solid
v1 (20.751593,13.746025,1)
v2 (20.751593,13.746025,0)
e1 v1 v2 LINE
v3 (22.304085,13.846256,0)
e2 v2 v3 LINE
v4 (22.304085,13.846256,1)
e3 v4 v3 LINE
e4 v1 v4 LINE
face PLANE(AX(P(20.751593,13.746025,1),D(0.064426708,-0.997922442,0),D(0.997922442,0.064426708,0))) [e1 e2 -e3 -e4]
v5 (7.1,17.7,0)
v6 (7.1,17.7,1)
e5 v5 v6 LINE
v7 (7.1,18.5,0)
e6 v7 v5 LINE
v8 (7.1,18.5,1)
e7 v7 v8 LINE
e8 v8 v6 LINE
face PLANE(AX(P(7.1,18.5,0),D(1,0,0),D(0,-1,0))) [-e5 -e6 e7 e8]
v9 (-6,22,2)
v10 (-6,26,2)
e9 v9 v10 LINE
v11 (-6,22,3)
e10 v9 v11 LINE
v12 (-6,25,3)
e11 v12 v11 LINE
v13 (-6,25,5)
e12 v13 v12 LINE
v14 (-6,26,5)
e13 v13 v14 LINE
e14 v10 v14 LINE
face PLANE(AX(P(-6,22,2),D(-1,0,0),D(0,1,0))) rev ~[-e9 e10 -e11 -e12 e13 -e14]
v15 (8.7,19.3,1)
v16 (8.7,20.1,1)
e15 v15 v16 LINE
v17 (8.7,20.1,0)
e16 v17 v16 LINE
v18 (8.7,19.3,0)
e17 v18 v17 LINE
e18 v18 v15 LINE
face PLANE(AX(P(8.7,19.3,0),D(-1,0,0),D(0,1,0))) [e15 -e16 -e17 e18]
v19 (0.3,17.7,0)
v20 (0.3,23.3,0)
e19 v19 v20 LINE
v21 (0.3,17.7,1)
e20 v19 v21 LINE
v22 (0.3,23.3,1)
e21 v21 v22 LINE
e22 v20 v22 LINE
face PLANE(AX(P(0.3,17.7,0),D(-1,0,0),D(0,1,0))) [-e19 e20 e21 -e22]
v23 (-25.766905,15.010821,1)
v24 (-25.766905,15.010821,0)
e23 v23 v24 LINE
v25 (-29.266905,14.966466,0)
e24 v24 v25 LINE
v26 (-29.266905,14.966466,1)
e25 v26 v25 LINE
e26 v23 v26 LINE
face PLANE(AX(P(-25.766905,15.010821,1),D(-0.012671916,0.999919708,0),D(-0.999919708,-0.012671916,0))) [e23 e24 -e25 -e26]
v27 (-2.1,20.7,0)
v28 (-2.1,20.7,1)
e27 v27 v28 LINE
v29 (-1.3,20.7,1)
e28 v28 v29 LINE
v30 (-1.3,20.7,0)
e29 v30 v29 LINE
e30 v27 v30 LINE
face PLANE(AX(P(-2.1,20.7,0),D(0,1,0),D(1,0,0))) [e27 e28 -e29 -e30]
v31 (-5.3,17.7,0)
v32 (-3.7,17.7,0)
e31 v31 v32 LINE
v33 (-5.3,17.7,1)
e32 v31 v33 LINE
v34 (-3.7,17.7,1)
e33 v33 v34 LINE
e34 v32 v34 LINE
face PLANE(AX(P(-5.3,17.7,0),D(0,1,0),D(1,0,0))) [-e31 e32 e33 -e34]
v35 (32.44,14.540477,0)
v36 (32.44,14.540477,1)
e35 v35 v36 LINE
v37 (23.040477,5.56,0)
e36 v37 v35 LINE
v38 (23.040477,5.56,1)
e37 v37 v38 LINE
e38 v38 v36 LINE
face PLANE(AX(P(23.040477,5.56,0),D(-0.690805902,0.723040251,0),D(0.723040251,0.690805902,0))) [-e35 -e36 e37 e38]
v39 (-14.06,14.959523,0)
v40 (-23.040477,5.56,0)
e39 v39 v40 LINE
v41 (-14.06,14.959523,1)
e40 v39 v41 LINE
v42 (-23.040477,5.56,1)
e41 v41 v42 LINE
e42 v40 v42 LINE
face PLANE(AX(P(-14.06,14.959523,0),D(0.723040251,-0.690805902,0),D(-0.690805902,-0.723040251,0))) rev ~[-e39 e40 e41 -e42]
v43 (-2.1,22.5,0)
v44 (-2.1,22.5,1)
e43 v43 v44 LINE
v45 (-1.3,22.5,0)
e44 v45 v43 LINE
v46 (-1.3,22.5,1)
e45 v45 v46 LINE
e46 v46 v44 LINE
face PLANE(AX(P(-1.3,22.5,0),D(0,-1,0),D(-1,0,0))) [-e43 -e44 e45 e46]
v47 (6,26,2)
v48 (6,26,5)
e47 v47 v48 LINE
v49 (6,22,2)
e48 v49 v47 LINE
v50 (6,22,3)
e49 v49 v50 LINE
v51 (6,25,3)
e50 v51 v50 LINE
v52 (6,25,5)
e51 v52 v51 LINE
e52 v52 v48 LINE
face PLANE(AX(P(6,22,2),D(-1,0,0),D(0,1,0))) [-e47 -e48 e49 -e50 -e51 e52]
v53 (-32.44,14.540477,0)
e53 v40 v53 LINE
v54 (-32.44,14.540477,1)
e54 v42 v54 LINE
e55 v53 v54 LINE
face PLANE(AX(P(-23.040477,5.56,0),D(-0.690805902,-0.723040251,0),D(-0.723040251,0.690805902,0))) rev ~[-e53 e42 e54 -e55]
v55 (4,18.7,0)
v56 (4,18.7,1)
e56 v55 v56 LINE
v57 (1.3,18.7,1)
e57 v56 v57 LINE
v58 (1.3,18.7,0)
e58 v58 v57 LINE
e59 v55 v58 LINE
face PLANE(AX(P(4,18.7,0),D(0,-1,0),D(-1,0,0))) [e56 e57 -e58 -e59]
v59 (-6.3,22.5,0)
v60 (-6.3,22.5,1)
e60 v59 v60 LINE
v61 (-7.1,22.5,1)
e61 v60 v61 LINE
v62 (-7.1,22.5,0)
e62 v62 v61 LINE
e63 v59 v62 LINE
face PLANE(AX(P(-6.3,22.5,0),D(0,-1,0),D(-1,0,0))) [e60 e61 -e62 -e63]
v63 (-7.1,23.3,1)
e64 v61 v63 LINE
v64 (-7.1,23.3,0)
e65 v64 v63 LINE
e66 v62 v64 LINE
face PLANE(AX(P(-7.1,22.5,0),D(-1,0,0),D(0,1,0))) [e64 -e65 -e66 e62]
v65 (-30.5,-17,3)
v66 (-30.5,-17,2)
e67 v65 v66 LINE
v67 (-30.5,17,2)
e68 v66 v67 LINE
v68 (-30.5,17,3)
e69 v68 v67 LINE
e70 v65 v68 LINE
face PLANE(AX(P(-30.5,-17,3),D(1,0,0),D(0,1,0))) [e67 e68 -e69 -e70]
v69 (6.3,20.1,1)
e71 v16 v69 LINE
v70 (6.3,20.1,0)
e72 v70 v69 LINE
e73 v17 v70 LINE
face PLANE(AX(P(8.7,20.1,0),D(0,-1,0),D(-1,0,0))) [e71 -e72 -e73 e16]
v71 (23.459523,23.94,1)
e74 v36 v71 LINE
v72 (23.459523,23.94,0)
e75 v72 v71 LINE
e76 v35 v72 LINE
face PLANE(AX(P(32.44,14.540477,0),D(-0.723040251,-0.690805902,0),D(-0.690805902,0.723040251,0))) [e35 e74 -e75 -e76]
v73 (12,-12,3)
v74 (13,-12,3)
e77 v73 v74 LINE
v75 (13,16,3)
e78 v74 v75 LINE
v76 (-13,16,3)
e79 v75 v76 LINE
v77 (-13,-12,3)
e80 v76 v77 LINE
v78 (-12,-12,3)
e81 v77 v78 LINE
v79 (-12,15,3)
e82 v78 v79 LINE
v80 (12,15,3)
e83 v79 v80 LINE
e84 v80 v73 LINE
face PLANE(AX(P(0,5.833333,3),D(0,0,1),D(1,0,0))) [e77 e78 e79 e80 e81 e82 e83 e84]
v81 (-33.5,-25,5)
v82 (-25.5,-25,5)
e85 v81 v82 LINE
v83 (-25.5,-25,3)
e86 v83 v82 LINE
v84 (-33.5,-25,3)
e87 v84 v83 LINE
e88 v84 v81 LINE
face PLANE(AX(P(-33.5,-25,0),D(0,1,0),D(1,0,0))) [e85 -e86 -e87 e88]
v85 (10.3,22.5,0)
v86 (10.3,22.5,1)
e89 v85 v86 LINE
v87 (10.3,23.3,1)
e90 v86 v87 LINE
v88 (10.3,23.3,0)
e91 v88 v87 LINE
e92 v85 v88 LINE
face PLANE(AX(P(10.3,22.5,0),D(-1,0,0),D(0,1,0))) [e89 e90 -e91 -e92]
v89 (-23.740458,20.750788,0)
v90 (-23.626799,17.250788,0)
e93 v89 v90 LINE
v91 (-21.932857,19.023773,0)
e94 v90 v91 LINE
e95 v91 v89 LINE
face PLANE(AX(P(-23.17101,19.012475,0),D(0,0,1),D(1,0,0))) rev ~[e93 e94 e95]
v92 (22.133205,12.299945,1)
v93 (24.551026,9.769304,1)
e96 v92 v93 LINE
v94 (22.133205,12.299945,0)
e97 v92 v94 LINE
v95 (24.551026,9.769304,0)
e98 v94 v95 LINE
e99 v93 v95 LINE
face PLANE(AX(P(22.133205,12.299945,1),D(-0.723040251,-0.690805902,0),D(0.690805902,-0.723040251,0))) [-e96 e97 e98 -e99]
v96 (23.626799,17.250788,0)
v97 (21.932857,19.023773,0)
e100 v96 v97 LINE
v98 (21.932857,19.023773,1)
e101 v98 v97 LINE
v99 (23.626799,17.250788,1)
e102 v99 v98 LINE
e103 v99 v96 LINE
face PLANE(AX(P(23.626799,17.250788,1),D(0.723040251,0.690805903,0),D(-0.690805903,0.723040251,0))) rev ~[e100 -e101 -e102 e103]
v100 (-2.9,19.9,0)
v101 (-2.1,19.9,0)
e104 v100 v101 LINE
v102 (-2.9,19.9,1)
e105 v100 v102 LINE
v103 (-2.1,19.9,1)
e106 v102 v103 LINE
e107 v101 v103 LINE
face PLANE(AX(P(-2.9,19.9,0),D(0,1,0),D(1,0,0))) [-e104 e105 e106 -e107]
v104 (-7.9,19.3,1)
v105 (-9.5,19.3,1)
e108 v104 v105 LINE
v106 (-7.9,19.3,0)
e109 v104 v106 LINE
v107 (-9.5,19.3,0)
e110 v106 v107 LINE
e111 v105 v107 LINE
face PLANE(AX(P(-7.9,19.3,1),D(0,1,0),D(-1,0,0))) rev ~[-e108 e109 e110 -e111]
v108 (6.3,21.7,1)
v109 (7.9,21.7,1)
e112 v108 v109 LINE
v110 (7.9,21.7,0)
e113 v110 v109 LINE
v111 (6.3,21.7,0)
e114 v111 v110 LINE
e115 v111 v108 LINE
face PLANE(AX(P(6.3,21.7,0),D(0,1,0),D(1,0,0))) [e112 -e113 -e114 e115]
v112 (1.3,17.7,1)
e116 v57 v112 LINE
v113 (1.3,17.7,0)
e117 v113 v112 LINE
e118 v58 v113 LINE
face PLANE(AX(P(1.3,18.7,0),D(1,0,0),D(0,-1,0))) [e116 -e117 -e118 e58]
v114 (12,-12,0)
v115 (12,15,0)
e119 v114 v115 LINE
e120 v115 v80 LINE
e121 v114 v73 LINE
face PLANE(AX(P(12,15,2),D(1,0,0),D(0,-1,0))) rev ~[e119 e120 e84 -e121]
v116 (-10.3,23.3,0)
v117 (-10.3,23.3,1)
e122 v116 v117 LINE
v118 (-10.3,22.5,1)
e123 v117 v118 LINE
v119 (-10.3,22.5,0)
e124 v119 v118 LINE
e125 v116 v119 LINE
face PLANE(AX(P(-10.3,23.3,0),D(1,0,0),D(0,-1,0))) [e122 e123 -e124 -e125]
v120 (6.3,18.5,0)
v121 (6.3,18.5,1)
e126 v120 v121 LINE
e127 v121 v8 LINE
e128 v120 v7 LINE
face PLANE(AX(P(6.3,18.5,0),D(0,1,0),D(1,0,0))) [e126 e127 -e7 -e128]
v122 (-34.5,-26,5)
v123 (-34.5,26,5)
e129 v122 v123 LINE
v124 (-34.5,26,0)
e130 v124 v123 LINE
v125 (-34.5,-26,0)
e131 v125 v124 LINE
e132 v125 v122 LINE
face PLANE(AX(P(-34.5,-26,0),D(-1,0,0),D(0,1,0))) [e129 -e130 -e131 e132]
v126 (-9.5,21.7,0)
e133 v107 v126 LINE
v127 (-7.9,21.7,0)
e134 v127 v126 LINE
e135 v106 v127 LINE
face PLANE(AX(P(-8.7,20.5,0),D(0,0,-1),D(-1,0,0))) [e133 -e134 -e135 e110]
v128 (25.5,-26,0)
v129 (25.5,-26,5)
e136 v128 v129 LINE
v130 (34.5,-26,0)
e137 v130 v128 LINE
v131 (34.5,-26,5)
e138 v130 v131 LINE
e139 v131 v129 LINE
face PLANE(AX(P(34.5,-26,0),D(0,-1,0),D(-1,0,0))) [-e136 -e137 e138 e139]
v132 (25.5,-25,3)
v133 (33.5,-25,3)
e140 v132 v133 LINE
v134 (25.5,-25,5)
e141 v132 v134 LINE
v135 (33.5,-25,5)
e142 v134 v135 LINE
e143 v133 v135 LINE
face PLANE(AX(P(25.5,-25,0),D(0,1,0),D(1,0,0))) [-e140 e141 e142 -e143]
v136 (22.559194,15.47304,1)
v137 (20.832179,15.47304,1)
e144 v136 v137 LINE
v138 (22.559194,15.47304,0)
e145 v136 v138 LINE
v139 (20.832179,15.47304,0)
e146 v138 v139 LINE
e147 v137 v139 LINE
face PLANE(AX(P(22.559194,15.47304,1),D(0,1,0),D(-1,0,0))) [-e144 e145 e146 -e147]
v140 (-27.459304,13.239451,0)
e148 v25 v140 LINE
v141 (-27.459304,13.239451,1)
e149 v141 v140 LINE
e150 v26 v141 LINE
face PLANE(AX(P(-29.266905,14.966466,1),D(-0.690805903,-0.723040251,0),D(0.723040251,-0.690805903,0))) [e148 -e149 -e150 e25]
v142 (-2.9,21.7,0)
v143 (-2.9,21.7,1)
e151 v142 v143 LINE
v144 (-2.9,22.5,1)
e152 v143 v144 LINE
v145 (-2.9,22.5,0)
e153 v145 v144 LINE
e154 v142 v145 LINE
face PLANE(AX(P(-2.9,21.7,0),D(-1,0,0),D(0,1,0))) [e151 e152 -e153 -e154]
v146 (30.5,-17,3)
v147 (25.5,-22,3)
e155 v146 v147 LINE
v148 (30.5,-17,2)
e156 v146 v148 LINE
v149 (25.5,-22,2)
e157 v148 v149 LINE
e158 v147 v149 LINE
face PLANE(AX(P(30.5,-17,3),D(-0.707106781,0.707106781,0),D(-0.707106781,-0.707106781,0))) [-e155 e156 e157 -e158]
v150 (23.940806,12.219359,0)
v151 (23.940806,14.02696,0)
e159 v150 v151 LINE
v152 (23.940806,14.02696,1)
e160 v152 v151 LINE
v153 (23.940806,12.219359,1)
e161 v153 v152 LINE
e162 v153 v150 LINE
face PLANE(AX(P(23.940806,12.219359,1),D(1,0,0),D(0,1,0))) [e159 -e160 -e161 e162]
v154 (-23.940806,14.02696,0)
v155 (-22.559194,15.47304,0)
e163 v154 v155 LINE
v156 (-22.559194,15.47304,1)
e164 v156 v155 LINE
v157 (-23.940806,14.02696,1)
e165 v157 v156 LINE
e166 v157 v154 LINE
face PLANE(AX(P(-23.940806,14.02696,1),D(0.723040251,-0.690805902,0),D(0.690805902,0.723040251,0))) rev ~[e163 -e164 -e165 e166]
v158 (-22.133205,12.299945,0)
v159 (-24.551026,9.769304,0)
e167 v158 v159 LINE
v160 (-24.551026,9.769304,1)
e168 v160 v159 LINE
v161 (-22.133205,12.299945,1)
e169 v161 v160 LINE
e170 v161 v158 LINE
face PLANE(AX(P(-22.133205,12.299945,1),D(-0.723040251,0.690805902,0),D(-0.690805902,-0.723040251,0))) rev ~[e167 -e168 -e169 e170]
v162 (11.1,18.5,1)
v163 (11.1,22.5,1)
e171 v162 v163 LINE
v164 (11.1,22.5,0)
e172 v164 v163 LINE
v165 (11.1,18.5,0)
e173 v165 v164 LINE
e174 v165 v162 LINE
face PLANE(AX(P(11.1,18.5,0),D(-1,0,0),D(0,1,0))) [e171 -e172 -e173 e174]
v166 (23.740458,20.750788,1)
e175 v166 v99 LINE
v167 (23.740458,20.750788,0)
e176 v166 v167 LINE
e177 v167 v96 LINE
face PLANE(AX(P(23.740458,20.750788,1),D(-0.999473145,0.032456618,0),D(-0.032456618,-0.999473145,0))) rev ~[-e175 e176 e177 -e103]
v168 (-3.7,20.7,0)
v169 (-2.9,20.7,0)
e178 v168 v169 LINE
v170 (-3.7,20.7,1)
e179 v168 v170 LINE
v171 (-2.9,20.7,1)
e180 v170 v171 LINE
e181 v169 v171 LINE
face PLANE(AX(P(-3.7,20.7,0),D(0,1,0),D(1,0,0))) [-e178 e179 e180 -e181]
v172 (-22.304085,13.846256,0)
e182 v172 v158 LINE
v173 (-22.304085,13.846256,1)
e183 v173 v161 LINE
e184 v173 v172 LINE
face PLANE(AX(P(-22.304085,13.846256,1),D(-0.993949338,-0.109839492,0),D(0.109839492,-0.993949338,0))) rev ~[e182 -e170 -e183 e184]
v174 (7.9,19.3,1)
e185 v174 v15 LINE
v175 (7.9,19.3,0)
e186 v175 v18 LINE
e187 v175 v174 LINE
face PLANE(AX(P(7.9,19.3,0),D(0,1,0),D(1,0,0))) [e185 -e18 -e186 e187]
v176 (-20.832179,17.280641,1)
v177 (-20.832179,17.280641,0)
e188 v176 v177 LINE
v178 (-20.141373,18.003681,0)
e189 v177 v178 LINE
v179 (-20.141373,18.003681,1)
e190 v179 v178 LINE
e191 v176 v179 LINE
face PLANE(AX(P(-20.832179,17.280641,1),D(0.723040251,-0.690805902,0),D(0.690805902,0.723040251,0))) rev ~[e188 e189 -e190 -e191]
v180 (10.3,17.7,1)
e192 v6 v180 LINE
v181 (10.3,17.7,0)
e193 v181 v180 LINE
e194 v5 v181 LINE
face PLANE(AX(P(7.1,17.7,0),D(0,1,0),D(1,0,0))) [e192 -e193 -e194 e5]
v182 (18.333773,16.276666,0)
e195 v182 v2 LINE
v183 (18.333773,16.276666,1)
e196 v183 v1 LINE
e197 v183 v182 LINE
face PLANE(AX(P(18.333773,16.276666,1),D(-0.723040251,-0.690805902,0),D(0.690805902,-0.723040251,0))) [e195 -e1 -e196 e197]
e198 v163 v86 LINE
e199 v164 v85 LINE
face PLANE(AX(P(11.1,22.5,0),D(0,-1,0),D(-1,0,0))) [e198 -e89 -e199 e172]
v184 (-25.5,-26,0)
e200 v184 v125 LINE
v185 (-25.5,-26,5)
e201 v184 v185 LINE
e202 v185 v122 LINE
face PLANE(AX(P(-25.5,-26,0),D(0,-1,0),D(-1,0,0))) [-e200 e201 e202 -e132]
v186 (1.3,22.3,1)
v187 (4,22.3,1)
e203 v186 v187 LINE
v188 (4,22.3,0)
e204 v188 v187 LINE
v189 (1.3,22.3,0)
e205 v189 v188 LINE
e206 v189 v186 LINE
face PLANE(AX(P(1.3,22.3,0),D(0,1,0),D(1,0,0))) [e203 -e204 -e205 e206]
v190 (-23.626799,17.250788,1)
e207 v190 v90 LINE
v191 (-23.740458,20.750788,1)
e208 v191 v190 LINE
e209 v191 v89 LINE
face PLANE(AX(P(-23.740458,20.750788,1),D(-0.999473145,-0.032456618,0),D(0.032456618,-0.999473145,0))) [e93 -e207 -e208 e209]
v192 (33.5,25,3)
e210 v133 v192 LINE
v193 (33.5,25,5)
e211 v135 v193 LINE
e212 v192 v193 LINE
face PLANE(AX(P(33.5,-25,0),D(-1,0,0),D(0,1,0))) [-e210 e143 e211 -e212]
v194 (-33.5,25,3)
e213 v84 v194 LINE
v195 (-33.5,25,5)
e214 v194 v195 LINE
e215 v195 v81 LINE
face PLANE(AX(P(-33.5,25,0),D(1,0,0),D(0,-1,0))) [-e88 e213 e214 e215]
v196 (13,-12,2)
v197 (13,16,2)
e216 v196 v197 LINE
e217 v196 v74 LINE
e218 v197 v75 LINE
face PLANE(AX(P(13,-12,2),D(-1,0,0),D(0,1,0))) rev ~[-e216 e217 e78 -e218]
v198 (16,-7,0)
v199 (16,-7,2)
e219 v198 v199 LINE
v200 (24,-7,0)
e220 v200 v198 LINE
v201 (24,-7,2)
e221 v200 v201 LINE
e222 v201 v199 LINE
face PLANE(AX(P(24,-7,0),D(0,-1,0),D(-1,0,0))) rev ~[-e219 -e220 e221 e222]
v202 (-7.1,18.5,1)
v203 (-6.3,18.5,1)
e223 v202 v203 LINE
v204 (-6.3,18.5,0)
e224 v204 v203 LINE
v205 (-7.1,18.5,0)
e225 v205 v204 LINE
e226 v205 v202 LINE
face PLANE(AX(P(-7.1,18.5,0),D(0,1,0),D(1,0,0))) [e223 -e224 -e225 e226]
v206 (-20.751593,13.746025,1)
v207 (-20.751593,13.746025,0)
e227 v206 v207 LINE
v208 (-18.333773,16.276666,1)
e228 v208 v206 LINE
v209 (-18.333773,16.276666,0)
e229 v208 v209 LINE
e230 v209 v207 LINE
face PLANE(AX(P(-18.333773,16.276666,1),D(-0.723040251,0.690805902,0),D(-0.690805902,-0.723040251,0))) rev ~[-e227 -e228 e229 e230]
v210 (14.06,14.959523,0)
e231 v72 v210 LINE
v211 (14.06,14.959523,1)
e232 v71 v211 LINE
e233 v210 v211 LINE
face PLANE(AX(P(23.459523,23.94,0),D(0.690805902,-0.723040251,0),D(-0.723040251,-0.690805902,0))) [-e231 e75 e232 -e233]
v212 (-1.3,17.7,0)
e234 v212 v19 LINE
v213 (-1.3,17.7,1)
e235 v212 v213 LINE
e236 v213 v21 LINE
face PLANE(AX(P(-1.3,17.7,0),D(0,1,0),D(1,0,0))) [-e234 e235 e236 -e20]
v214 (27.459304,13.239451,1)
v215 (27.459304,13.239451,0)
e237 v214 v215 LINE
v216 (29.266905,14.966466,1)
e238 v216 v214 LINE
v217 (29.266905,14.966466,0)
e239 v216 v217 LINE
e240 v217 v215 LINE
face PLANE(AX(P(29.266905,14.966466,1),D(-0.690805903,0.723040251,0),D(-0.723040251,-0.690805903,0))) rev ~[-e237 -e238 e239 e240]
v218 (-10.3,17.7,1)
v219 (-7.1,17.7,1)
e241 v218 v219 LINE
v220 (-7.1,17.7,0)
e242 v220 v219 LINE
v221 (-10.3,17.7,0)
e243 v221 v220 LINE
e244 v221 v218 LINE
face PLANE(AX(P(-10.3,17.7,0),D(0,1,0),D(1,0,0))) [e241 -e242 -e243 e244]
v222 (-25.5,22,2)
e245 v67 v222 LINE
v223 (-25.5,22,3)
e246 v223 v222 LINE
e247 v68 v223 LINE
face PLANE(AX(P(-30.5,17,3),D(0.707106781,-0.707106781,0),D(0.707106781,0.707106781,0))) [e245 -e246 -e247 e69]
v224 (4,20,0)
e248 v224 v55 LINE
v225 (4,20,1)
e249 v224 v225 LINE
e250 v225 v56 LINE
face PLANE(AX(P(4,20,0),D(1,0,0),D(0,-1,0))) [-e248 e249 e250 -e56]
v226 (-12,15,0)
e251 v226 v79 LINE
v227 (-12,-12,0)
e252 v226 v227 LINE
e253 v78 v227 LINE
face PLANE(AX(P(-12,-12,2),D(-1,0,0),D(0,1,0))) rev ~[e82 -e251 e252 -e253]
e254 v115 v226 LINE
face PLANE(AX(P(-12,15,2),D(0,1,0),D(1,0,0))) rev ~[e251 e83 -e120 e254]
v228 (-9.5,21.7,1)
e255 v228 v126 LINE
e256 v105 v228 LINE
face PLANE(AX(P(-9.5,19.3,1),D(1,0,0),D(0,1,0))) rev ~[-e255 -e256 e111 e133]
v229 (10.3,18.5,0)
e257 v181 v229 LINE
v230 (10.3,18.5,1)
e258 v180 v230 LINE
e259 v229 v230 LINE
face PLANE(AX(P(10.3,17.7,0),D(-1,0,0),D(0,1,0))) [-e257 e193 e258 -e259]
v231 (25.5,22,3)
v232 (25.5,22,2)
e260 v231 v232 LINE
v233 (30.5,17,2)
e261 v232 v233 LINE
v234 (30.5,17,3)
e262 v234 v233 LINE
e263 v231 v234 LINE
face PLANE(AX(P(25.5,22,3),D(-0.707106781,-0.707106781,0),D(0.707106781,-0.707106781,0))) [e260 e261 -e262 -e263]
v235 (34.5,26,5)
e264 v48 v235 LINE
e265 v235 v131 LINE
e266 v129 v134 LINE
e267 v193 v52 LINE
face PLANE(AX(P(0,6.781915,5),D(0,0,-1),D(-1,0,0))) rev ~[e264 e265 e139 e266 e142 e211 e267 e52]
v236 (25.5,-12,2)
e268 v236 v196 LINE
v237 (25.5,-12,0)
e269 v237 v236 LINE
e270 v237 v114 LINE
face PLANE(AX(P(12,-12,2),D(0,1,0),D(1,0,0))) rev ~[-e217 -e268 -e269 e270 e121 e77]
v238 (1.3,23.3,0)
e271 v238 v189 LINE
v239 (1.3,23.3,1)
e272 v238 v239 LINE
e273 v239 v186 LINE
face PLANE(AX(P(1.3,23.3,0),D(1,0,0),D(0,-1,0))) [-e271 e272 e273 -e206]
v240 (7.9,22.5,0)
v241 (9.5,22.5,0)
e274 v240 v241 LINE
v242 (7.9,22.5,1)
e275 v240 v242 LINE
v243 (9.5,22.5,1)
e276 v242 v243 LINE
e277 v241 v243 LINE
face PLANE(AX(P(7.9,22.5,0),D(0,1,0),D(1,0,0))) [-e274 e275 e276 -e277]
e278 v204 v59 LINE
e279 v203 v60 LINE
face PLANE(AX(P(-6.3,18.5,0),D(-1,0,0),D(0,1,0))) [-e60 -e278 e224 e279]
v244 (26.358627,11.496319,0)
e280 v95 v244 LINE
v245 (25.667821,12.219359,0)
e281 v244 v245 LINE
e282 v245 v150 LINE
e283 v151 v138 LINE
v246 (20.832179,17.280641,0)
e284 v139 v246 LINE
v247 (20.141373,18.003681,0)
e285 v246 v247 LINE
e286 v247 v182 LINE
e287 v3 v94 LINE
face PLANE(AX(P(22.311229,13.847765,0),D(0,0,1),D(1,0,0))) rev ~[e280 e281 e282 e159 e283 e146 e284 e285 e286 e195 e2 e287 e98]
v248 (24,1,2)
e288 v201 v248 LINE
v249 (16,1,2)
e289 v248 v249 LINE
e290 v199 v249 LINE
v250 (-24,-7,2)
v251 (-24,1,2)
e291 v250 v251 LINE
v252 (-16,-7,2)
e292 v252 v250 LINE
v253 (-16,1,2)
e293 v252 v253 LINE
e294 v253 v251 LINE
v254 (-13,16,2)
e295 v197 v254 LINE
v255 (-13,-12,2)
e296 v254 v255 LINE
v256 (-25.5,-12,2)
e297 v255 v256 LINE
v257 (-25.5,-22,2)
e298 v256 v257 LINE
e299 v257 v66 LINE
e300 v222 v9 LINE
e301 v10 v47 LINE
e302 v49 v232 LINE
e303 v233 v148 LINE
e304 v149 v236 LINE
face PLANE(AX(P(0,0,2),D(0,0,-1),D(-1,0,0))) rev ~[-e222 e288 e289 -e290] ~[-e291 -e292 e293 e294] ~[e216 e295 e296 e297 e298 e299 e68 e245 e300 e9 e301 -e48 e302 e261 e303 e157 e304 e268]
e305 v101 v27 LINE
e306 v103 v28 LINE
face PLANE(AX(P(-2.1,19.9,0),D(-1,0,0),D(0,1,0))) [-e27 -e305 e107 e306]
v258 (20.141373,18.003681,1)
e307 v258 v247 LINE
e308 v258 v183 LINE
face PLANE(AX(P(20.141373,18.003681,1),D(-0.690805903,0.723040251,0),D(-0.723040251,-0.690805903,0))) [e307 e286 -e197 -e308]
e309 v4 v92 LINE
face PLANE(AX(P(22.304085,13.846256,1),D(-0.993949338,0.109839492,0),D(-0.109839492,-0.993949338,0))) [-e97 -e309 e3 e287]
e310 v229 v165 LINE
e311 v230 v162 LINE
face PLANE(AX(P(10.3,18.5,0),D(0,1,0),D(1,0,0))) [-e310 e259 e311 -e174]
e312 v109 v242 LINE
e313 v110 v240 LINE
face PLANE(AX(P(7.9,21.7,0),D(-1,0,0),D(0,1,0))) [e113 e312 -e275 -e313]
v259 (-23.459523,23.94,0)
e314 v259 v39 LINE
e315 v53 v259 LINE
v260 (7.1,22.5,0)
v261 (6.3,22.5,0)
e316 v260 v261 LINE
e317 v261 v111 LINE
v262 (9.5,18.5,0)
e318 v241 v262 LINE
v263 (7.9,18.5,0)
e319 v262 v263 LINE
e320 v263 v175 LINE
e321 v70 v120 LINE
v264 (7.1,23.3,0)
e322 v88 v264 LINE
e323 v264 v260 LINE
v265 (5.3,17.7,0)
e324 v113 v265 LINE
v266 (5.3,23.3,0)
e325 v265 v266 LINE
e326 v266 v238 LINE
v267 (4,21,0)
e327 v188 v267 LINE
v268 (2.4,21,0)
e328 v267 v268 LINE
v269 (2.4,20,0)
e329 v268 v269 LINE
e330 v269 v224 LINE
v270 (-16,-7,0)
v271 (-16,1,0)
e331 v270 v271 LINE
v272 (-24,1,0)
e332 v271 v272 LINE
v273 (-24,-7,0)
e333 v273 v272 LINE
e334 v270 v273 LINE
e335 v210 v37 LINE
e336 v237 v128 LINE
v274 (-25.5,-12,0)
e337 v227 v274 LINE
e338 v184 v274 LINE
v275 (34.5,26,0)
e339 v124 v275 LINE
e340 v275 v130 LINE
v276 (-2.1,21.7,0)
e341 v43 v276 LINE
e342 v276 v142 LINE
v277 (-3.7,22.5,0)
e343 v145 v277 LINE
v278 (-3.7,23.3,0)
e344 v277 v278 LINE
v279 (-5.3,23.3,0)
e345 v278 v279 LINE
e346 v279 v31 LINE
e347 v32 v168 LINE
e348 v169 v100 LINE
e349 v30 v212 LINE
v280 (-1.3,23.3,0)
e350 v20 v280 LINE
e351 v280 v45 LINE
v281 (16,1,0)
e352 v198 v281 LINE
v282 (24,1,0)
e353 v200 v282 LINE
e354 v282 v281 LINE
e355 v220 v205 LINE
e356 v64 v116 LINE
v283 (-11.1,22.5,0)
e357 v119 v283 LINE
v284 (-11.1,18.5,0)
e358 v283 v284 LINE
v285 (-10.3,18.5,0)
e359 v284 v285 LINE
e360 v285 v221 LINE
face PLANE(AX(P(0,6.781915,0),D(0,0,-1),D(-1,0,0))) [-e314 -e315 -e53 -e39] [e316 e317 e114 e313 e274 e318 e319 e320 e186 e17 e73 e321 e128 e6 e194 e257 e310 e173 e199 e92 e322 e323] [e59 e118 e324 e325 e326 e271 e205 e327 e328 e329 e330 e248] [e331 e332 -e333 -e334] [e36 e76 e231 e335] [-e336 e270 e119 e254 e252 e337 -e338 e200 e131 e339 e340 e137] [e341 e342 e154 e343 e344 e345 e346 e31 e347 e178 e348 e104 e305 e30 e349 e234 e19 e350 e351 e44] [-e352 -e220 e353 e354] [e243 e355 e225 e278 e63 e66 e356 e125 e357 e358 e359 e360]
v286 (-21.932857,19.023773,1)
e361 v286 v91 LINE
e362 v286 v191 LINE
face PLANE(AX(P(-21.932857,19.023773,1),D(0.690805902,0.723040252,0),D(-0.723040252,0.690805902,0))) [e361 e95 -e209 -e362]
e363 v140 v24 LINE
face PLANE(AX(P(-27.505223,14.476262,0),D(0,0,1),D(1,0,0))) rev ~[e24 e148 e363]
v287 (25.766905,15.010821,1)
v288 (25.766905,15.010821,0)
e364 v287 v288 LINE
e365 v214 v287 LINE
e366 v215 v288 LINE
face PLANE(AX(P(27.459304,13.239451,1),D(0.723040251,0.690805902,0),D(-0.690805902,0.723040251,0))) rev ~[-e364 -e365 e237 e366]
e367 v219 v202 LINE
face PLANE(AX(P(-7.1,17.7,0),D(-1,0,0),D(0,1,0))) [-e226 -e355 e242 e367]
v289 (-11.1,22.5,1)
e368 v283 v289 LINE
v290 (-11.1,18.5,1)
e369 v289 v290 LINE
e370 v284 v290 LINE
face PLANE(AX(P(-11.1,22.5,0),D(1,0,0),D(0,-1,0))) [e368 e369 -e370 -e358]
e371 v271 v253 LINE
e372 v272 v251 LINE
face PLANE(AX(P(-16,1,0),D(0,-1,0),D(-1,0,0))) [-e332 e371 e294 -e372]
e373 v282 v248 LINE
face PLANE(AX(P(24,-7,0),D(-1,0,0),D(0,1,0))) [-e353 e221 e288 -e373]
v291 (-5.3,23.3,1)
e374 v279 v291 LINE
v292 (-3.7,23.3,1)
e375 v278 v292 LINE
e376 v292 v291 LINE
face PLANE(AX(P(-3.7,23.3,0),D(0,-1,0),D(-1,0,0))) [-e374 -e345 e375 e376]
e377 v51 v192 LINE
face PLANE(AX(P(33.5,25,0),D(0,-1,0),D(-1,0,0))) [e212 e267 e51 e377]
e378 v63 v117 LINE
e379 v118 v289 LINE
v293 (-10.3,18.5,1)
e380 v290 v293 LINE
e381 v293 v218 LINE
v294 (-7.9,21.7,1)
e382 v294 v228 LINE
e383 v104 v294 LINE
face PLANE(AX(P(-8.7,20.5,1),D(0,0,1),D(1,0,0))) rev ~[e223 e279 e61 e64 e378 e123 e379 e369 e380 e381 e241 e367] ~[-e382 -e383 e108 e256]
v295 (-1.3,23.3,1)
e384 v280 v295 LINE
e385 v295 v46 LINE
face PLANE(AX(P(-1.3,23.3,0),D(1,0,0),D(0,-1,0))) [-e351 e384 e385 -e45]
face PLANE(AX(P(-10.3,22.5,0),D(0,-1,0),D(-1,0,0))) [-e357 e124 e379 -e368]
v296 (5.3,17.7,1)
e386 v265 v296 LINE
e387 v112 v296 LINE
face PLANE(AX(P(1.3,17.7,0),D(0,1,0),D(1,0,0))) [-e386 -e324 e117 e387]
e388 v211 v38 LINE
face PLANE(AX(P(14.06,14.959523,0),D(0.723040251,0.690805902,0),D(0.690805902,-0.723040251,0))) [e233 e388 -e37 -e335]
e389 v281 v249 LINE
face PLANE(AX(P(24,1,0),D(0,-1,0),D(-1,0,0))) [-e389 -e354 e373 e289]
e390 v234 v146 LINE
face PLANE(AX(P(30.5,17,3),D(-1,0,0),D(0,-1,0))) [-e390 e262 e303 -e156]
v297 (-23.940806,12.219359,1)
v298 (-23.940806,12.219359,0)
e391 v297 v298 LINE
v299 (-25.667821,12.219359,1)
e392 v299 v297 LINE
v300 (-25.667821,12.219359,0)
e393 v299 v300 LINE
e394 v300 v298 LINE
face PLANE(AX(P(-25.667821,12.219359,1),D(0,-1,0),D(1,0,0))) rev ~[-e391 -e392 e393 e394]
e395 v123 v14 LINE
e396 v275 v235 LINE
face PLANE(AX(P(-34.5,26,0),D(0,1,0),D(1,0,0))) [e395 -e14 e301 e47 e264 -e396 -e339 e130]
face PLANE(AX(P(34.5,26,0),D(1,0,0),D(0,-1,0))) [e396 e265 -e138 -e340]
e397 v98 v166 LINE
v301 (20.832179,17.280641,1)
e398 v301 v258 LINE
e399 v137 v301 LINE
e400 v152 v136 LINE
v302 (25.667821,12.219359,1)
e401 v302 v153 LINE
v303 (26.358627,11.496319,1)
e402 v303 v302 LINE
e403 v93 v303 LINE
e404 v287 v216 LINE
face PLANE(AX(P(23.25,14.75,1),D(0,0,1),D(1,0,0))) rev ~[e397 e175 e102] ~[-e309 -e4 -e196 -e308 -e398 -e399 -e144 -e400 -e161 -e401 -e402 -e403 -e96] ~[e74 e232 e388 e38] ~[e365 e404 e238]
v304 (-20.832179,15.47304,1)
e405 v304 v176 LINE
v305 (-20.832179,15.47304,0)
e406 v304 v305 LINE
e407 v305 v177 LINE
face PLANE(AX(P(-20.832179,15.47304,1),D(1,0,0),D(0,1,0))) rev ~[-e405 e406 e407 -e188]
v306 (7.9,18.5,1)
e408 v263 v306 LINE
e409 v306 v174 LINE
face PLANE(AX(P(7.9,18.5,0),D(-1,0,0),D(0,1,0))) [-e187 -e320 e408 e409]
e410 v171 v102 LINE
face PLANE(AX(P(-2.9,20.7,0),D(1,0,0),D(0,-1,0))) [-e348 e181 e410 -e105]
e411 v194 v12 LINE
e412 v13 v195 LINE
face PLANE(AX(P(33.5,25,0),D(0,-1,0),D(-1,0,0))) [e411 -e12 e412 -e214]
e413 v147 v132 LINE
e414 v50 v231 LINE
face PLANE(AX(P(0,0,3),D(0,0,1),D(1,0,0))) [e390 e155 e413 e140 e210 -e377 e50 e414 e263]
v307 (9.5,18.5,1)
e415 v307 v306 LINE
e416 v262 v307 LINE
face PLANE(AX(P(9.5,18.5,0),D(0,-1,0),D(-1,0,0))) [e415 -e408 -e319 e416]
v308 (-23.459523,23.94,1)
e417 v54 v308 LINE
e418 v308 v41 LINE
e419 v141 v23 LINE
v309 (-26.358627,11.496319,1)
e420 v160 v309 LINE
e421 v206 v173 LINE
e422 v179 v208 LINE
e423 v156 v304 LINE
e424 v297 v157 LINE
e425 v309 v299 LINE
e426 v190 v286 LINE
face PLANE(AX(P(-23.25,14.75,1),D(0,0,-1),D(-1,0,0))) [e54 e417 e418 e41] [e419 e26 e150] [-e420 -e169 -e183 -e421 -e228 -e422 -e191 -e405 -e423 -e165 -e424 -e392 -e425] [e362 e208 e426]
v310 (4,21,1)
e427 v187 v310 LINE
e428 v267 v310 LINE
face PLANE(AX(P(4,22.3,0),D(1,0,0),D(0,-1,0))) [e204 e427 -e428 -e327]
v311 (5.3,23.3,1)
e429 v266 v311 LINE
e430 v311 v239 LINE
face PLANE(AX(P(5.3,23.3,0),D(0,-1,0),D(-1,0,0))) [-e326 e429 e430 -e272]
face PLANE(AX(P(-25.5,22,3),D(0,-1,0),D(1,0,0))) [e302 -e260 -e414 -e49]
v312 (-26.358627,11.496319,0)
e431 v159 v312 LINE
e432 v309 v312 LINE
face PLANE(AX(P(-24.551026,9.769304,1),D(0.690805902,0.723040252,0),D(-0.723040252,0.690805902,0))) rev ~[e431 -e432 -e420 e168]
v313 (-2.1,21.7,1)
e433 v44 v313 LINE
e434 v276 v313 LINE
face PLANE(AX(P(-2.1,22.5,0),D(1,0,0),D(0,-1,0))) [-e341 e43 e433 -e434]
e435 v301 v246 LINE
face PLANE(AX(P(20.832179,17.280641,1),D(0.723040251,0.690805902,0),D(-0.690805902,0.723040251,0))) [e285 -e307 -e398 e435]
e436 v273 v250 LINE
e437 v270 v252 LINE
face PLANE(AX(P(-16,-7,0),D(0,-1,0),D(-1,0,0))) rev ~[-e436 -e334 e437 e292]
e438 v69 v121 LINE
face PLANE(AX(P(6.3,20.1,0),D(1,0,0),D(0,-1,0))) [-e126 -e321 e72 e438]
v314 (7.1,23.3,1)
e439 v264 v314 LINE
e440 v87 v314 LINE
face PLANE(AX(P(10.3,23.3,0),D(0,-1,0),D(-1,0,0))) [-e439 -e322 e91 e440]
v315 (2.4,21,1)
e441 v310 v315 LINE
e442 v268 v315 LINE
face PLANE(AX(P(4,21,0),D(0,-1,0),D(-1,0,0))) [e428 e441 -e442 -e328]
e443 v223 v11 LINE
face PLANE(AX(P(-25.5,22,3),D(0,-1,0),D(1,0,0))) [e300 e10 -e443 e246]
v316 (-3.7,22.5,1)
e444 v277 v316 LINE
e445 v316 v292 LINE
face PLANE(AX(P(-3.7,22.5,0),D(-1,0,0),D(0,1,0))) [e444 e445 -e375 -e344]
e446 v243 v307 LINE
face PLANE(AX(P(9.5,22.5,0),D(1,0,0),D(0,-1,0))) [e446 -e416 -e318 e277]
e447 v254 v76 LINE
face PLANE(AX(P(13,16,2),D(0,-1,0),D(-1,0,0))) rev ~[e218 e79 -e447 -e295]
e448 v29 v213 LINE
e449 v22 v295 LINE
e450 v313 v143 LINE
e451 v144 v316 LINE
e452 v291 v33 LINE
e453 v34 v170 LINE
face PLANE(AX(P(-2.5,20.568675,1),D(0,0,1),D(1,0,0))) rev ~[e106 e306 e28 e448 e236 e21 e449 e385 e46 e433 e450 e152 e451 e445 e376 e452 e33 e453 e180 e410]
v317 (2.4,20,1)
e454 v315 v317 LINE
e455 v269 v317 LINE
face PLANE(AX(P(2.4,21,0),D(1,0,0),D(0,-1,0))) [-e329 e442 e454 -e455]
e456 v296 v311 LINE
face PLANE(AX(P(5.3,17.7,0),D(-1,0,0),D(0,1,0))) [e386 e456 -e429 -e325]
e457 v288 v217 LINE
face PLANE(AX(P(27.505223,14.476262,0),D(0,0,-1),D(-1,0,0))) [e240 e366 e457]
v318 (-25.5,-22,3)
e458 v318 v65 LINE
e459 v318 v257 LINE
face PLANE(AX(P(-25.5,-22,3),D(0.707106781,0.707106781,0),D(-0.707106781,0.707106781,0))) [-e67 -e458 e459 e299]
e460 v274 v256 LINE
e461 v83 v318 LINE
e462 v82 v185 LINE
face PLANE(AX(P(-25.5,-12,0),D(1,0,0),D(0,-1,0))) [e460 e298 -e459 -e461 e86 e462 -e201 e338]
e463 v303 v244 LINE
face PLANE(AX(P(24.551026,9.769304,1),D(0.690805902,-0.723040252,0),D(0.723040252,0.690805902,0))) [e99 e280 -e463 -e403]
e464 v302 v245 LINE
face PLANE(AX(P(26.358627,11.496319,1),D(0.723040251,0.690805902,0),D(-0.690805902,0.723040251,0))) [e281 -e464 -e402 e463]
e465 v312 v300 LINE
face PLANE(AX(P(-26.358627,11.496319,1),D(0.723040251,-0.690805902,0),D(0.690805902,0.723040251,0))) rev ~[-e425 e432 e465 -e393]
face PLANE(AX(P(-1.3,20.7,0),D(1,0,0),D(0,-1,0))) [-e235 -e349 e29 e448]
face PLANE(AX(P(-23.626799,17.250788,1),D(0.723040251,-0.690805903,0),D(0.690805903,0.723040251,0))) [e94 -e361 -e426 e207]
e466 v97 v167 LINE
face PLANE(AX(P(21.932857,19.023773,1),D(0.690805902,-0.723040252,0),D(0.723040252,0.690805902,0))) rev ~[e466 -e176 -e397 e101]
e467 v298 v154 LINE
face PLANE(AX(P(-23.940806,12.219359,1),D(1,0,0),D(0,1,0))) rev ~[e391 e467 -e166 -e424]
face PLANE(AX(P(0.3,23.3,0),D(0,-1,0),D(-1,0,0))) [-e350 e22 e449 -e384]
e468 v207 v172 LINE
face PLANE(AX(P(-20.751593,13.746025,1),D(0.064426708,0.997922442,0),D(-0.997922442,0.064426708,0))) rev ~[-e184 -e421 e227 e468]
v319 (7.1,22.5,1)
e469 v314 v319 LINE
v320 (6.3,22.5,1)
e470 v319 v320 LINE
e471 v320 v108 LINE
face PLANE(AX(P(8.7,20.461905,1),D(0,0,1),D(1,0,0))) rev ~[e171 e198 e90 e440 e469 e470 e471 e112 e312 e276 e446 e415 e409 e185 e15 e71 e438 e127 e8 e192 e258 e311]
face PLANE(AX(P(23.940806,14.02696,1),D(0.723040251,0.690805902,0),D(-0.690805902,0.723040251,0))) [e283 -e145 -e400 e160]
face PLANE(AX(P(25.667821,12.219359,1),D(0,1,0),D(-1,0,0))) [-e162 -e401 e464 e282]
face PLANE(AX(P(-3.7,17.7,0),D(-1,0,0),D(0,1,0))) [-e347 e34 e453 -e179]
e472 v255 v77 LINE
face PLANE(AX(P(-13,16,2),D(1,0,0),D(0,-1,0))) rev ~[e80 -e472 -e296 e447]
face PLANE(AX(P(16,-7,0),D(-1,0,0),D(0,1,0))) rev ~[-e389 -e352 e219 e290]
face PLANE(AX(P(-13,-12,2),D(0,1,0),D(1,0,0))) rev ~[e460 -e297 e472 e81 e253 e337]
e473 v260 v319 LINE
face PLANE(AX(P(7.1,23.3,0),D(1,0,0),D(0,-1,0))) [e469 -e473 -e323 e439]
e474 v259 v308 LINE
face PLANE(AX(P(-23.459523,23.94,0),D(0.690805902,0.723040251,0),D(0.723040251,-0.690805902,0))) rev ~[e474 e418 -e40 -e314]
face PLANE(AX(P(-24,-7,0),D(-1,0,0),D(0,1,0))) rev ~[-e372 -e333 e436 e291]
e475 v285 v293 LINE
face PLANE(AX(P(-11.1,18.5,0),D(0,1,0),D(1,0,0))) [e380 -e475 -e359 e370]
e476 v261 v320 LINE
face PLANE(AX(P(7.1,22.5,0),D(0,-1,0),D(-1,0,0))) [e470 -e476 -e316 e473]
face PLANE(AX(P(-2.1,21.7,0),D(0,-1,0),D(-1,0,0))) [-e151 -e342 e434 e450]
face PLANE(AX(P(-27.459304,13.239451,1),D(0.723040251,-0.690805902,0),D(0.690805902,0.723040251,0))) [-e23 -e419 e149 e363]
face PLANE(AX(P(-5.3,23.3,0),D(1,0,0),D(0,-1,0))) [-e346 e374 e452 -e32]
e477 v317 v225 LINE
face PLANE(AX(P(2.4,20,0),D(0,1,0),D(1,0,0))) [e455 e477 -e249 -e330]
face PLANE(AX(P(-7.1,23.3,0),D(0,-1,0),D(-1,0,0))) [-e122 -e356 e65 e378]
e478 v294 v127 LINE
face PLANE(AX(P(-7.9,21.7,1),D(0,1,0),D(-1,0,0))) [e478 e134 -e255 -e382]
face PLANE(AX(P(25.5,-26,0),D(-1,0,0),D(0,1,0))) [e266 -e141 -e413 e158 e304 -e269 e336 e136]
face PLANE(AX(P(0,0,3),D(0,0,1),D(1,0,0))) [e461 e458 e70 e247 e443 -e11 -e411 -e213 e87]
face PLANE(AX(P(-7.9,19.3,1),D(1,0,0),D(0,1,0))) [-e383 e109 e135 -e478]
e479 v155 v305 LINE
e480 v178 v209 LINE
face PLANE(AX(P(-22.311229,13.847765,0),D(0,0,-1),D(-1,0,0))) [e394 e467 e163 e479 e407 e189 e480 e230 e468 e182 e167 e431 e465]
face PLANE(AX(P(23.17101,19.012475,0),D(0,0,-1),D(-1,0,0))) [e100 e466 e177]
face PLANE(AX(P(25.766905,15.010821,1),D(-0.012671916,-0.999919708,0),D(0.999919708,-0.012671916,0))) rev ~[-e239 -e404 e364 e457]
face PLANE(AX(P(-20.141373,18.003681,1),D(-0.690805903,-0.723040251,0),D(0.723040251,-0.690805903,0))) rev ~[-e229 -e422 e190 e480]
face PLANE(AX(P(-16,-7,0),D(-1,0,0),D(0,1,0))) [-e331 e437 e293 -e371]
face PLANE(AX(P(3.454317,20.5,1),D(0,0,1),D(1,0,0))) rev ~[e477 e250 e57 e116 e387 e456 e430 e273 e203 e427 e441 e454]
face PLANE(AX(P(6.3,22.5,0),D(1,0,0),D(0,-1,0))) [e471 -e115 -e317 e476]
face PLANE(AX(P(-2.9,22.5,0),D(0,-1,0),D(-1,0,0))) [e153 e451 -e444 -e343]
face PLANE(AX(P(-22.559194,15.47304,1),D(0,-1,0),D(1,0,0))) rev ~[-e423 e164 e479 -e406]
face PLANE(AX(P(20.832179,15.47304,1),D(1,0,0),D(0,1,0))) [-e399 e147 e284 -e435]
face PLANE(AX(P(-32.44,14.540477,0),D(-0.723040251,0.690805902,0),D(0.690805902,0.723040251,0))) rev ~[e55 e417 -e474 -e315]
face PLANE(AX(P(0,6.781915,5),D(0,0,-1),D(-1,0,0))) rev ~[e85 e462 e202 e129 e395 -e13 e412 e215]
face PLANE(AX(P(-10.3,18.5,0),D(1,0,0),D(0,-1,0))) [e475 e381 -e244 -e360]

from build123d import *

# Parameters (mm, degrees)
SKICA1_W                    = 67
SKICA1_H                    = 50
P_IDAT_VYSUNUT_M1_DEPTH     = 3
ODEBRAT_VYSUNUT_M1_DEPTH    = 1
SKICA3_W                    = 8
SKICA3_H                    = 8
ODEBRAT_VYSUNUT_M2_DEPTH    = 4
VYSUNOUT_TENKOST_NN_1_DEPTH = 1
VYSUNOUT_TENKOST_NN_2_DEPTH = 5
SKICA6_W                    = 12
SKICA6_H                    = 4
ODEBRAT_VYSUNUT_M3_DEPTH    = 4
ODEBRAT_VYSUNUT_M5_DEPTH    = 1
P_IDAT_START                = -1
P_IDAT_VYSUNUT_M3_DEPTH     = 1
ODEBRAT_VYSUNUT_M6_DEPTH    = 1
SKICA10_W                   = 1.6
SKICA10_H                   = 2.4
P_IDAT_VYSUNUT_M4_DEPTH     = 1


with BuildPart() as part:
    # Skica1 → Přidat vysunutím1 (new body)
    with BuildSketch(Plane.XY):
        Rectangle(SKICA1_W, SKICA1_H)
    extrude(amount=P_IDAT_VYSUNUT_M1_DEPTH)

    # Skica2 → Odebrat vysunutím1 (cut)
    with BuildSketch(Plane.XY.offset(3)):
        Polygon((-25.5, -22), (-30.5, -17), (-30.5, 17), (-25.5, 22), (25.5, 22), (30.5, 17), (30.5, -17), (25.5, -22), align=None)
    extrude(amount=-ODEBRAT_VYSUNUT_M1_DEPTH, mode=Mode.SUBTRACT)

    # Skica3 → Odebrat vysunutím2 (cut, through all)
    with BuildSketch(Plane(origin=(0, 0, 0), x_dir=(-1, 0, 0), z_dir=(0, 0, -1))):
        with Locations((20, -3)):
            Rectangle(SKICA3_W, SKICA3_H)
        with Locations((-20, -3)):
            Rectangle(SKICA3_W, SKICA3_H)
        Polygon((25.5, -25), (-25.5, -25), (-25.5, -12), (-12, -12), (-12, 15), (12, 15), (12, -12), (25.5, -12), align=None)
    extrude(amount=-ODEBRAT_VYSUNUT_M2_DEPTH, mode=Mode.SUBTRACT)

    # Skica4 → Vysunout tenkostěnný1 (add)
    with BuildSketch(Plane.XY.offset(2)):
        Polygon((-12, -12), (-12, 15), (12, 15), (12, -12), (13, -12), (13, 16), (-13, 16), (-13, -12), align=None)
    extrude(amount=VYSUNOUT_TENKOST_NN_1_DEPTH)

    # Skica5 → Vysunout tenkostěnný2 (add)
    with BuildSketch(Plane(origin=(0, 0, 0), x_dir=(-1, 0, 0), z_dir=(0, 0, -1))):
        Polygon((-25.5, -25), (-33.5, -25), (-33.5, 25), (33.5, 25), (33.5, -25), (25.5, -25), (25.5, -26), (34.5, -26), (34.5, 26), (-34.5, 26), (-34.5, -26), (-25.5, -26), align=None)
    extrude(amount=-VYSUNOUT_TENKOST_NN_2_DEPTH)

    # Skica6 → Odebrat vysunutím3 (cut, through all)
    with BuildSketch(Plane.XY.offset(2)):
        with Locations((0, 24)):
            Rectangle(SKICA6_W, SKICA6_H)
    extrude(amount=ODEBRAT_VYSUNUT_M3_DEPTH, mode=Mode.SUBTRACT)

    # Skica7 → Odebrat vysunutím5 (cut)
    with BuildSketch(Plane(origin=(0, 0, 0), x_dir=(-1, 0, 0), z_dir=(0, 0, -1))):
        Polygon((-32.44, 14.540476732), (-23.459523268, 23.94), (-14.06, 14.959523268), (-23.040476732, 5.56), align=None)
        Polygon((14.06, 14.959523268), (23.040476732, 5.56), (32.44, 14.540476732), (23.459523268, 23.94), align=None)
    extrude(amount=-ODEBRAT_VYSUNUT_M5_DEPTH, mode=Mode.SUBTRACT)

    # Skica8 → Přidat vysunutím3 (add)
    with BuildSketch(Plane(origin=(0, 0, 0), x_dir=(-1, 0, 0), z_dir=(0, 0, -1)).offset(P_IDAT_START)):
        Polygon((-29.266904741, 14.966465555), (-27.459304113, 13.239450799), (-25.766904741, 15.010820822), align=None)
        Polygon((-23.626799477, 17.250787567), (-21.932856893, 19.023772811), (-23.740457522, 20.750787567), align=None)
        Polygon((-24.551025932, 9.769304113), (-26.358626561, 11.496318869), (-25.667820659, 12.21935912), (-23.940805902, 12.21935912), (-23.940805902, 14.026959749), (-22.559194098, 15.473040251), (-20.832179341, 15.473040251), (-20.832179341, 17.28064088), (-20.141373439, 18.003681131), (-18.333772811, 16.276666375), (-20.751593469, 13.746025495), (-22.304085189, 13.84625566), (-22.133205274, 12.299944993), align=None)
        Polygon((27.459304113, 13.239450799), (25.766904741, 15.010820822), (29.266904741, 14.966465555), align=None)
        Polygon((23.626799477, 17.250787567), (21.932856893, 19.023772811), (23.740457522, 20.750787567), align=None)
        Polygon((23.940805902, 14.026959749), (22.559194098, 15.473040251), (20.832179341, 15.473040251), (20.832179341, 17.28064088), (20.141373439, 18.003681131), (18.333772811, 16.276666375), (20.751593469, 13.746025495), (22.304085189, 13.84625566), (22.133205274, 12.299944993), (24.551025932, 9.769304113), (26.358626561, 11.496318869), (25.667820659, 12.21935912), (23.940805902, 12.21935912), align=None)
    extrude(amount=P_IDAT_VYSUNUT_M3_DEPTH)

    # Skica9 → Odebrat vysunutím6 (cut)
    with BuildSketch(Plane(origin=(0, 0, 0), x_dir=(-1, 0, 0), z_dir=(0, 0, -1))):
        Polygon((-10.3, 23.3), (-7.1, 23.3), (-7.1, 22.5), (-6.3, 22.5), (-6.3, 21.7), (-7.9, 21.7), (-7.9, 22.5), (-9.5, 22.5), (-9.5, 18.5), (-7.9, 18.5), (-7.9, 19.3), (-8.7, 19.3), (-8.7, 20.1), (-6.3, 20.1), (-6.3, 18.5), (-7.1, 18.5), (-7.1, 17.7), (-10.3, 17.7), (-10.3, 18.5), (-11.1, 18.5), (-11.1, 22.5), (-10.3, 22.5), align=None)
        Polygon((-5.3, 23.3), (-1.3, 23.3), (-1.3, 22.3), (-4, 22.3), (-4, 21), (-2.4, 21), (-2.4, 20), (-4, 20), (-4, 18.7), (-1.3, 18.7), (-1.3, 17.7), (-5.3, 17.7), align=None)
        Polygon((-0.3, 23.3), (1.3, 23.3), (1.3, 22.5), (2.1, 22.5), (2.1, 21.7), (2.9, 21.7), (2.9, 22.5), (3.7, 22.5), (3.7, 23.3), (5.3, 23.3), (5.3, 17.7), (3.7, 17.7), (3.7, 20.7), (2.9, 20.7), (2.9, 19.9), (2.1, 19.9), (2.1, 20.7), (1.3, 20.7), (1.3, 17.7), (-0.3, 17.7), align=None)
        Polygon((7.1, 23.3), (10.3, 23.3), (10.3, 22.5), (11.1, 22.5), (11.1, 18.5), (10.3, 18.5), (10.3, 17.7), (7.1, 17.7), (7.1, 18.5), (6.3, 18.5), (6.3, 22.5), (7.1, 22.5), align=None)
    extrude(amount=-ODEBRAT_VYSUNUT_M6_DEPTH, mode=Mode.SUBTRACT)

    # Skica10 → Přidat vysunutím4 (add)
    with BuildSketch(Plane(origin=(0, 0, 1), x_dir=(-1, 0, 0), z_dir=(0, 0, -1))):
        with Locations((8.7, 20.5)):
            Rectangle(SKICA10_W, SKICA10_H)
    extrude(amount=P_IDAT_VYSUNUT_M4_DEPTH)


solid = part.part
